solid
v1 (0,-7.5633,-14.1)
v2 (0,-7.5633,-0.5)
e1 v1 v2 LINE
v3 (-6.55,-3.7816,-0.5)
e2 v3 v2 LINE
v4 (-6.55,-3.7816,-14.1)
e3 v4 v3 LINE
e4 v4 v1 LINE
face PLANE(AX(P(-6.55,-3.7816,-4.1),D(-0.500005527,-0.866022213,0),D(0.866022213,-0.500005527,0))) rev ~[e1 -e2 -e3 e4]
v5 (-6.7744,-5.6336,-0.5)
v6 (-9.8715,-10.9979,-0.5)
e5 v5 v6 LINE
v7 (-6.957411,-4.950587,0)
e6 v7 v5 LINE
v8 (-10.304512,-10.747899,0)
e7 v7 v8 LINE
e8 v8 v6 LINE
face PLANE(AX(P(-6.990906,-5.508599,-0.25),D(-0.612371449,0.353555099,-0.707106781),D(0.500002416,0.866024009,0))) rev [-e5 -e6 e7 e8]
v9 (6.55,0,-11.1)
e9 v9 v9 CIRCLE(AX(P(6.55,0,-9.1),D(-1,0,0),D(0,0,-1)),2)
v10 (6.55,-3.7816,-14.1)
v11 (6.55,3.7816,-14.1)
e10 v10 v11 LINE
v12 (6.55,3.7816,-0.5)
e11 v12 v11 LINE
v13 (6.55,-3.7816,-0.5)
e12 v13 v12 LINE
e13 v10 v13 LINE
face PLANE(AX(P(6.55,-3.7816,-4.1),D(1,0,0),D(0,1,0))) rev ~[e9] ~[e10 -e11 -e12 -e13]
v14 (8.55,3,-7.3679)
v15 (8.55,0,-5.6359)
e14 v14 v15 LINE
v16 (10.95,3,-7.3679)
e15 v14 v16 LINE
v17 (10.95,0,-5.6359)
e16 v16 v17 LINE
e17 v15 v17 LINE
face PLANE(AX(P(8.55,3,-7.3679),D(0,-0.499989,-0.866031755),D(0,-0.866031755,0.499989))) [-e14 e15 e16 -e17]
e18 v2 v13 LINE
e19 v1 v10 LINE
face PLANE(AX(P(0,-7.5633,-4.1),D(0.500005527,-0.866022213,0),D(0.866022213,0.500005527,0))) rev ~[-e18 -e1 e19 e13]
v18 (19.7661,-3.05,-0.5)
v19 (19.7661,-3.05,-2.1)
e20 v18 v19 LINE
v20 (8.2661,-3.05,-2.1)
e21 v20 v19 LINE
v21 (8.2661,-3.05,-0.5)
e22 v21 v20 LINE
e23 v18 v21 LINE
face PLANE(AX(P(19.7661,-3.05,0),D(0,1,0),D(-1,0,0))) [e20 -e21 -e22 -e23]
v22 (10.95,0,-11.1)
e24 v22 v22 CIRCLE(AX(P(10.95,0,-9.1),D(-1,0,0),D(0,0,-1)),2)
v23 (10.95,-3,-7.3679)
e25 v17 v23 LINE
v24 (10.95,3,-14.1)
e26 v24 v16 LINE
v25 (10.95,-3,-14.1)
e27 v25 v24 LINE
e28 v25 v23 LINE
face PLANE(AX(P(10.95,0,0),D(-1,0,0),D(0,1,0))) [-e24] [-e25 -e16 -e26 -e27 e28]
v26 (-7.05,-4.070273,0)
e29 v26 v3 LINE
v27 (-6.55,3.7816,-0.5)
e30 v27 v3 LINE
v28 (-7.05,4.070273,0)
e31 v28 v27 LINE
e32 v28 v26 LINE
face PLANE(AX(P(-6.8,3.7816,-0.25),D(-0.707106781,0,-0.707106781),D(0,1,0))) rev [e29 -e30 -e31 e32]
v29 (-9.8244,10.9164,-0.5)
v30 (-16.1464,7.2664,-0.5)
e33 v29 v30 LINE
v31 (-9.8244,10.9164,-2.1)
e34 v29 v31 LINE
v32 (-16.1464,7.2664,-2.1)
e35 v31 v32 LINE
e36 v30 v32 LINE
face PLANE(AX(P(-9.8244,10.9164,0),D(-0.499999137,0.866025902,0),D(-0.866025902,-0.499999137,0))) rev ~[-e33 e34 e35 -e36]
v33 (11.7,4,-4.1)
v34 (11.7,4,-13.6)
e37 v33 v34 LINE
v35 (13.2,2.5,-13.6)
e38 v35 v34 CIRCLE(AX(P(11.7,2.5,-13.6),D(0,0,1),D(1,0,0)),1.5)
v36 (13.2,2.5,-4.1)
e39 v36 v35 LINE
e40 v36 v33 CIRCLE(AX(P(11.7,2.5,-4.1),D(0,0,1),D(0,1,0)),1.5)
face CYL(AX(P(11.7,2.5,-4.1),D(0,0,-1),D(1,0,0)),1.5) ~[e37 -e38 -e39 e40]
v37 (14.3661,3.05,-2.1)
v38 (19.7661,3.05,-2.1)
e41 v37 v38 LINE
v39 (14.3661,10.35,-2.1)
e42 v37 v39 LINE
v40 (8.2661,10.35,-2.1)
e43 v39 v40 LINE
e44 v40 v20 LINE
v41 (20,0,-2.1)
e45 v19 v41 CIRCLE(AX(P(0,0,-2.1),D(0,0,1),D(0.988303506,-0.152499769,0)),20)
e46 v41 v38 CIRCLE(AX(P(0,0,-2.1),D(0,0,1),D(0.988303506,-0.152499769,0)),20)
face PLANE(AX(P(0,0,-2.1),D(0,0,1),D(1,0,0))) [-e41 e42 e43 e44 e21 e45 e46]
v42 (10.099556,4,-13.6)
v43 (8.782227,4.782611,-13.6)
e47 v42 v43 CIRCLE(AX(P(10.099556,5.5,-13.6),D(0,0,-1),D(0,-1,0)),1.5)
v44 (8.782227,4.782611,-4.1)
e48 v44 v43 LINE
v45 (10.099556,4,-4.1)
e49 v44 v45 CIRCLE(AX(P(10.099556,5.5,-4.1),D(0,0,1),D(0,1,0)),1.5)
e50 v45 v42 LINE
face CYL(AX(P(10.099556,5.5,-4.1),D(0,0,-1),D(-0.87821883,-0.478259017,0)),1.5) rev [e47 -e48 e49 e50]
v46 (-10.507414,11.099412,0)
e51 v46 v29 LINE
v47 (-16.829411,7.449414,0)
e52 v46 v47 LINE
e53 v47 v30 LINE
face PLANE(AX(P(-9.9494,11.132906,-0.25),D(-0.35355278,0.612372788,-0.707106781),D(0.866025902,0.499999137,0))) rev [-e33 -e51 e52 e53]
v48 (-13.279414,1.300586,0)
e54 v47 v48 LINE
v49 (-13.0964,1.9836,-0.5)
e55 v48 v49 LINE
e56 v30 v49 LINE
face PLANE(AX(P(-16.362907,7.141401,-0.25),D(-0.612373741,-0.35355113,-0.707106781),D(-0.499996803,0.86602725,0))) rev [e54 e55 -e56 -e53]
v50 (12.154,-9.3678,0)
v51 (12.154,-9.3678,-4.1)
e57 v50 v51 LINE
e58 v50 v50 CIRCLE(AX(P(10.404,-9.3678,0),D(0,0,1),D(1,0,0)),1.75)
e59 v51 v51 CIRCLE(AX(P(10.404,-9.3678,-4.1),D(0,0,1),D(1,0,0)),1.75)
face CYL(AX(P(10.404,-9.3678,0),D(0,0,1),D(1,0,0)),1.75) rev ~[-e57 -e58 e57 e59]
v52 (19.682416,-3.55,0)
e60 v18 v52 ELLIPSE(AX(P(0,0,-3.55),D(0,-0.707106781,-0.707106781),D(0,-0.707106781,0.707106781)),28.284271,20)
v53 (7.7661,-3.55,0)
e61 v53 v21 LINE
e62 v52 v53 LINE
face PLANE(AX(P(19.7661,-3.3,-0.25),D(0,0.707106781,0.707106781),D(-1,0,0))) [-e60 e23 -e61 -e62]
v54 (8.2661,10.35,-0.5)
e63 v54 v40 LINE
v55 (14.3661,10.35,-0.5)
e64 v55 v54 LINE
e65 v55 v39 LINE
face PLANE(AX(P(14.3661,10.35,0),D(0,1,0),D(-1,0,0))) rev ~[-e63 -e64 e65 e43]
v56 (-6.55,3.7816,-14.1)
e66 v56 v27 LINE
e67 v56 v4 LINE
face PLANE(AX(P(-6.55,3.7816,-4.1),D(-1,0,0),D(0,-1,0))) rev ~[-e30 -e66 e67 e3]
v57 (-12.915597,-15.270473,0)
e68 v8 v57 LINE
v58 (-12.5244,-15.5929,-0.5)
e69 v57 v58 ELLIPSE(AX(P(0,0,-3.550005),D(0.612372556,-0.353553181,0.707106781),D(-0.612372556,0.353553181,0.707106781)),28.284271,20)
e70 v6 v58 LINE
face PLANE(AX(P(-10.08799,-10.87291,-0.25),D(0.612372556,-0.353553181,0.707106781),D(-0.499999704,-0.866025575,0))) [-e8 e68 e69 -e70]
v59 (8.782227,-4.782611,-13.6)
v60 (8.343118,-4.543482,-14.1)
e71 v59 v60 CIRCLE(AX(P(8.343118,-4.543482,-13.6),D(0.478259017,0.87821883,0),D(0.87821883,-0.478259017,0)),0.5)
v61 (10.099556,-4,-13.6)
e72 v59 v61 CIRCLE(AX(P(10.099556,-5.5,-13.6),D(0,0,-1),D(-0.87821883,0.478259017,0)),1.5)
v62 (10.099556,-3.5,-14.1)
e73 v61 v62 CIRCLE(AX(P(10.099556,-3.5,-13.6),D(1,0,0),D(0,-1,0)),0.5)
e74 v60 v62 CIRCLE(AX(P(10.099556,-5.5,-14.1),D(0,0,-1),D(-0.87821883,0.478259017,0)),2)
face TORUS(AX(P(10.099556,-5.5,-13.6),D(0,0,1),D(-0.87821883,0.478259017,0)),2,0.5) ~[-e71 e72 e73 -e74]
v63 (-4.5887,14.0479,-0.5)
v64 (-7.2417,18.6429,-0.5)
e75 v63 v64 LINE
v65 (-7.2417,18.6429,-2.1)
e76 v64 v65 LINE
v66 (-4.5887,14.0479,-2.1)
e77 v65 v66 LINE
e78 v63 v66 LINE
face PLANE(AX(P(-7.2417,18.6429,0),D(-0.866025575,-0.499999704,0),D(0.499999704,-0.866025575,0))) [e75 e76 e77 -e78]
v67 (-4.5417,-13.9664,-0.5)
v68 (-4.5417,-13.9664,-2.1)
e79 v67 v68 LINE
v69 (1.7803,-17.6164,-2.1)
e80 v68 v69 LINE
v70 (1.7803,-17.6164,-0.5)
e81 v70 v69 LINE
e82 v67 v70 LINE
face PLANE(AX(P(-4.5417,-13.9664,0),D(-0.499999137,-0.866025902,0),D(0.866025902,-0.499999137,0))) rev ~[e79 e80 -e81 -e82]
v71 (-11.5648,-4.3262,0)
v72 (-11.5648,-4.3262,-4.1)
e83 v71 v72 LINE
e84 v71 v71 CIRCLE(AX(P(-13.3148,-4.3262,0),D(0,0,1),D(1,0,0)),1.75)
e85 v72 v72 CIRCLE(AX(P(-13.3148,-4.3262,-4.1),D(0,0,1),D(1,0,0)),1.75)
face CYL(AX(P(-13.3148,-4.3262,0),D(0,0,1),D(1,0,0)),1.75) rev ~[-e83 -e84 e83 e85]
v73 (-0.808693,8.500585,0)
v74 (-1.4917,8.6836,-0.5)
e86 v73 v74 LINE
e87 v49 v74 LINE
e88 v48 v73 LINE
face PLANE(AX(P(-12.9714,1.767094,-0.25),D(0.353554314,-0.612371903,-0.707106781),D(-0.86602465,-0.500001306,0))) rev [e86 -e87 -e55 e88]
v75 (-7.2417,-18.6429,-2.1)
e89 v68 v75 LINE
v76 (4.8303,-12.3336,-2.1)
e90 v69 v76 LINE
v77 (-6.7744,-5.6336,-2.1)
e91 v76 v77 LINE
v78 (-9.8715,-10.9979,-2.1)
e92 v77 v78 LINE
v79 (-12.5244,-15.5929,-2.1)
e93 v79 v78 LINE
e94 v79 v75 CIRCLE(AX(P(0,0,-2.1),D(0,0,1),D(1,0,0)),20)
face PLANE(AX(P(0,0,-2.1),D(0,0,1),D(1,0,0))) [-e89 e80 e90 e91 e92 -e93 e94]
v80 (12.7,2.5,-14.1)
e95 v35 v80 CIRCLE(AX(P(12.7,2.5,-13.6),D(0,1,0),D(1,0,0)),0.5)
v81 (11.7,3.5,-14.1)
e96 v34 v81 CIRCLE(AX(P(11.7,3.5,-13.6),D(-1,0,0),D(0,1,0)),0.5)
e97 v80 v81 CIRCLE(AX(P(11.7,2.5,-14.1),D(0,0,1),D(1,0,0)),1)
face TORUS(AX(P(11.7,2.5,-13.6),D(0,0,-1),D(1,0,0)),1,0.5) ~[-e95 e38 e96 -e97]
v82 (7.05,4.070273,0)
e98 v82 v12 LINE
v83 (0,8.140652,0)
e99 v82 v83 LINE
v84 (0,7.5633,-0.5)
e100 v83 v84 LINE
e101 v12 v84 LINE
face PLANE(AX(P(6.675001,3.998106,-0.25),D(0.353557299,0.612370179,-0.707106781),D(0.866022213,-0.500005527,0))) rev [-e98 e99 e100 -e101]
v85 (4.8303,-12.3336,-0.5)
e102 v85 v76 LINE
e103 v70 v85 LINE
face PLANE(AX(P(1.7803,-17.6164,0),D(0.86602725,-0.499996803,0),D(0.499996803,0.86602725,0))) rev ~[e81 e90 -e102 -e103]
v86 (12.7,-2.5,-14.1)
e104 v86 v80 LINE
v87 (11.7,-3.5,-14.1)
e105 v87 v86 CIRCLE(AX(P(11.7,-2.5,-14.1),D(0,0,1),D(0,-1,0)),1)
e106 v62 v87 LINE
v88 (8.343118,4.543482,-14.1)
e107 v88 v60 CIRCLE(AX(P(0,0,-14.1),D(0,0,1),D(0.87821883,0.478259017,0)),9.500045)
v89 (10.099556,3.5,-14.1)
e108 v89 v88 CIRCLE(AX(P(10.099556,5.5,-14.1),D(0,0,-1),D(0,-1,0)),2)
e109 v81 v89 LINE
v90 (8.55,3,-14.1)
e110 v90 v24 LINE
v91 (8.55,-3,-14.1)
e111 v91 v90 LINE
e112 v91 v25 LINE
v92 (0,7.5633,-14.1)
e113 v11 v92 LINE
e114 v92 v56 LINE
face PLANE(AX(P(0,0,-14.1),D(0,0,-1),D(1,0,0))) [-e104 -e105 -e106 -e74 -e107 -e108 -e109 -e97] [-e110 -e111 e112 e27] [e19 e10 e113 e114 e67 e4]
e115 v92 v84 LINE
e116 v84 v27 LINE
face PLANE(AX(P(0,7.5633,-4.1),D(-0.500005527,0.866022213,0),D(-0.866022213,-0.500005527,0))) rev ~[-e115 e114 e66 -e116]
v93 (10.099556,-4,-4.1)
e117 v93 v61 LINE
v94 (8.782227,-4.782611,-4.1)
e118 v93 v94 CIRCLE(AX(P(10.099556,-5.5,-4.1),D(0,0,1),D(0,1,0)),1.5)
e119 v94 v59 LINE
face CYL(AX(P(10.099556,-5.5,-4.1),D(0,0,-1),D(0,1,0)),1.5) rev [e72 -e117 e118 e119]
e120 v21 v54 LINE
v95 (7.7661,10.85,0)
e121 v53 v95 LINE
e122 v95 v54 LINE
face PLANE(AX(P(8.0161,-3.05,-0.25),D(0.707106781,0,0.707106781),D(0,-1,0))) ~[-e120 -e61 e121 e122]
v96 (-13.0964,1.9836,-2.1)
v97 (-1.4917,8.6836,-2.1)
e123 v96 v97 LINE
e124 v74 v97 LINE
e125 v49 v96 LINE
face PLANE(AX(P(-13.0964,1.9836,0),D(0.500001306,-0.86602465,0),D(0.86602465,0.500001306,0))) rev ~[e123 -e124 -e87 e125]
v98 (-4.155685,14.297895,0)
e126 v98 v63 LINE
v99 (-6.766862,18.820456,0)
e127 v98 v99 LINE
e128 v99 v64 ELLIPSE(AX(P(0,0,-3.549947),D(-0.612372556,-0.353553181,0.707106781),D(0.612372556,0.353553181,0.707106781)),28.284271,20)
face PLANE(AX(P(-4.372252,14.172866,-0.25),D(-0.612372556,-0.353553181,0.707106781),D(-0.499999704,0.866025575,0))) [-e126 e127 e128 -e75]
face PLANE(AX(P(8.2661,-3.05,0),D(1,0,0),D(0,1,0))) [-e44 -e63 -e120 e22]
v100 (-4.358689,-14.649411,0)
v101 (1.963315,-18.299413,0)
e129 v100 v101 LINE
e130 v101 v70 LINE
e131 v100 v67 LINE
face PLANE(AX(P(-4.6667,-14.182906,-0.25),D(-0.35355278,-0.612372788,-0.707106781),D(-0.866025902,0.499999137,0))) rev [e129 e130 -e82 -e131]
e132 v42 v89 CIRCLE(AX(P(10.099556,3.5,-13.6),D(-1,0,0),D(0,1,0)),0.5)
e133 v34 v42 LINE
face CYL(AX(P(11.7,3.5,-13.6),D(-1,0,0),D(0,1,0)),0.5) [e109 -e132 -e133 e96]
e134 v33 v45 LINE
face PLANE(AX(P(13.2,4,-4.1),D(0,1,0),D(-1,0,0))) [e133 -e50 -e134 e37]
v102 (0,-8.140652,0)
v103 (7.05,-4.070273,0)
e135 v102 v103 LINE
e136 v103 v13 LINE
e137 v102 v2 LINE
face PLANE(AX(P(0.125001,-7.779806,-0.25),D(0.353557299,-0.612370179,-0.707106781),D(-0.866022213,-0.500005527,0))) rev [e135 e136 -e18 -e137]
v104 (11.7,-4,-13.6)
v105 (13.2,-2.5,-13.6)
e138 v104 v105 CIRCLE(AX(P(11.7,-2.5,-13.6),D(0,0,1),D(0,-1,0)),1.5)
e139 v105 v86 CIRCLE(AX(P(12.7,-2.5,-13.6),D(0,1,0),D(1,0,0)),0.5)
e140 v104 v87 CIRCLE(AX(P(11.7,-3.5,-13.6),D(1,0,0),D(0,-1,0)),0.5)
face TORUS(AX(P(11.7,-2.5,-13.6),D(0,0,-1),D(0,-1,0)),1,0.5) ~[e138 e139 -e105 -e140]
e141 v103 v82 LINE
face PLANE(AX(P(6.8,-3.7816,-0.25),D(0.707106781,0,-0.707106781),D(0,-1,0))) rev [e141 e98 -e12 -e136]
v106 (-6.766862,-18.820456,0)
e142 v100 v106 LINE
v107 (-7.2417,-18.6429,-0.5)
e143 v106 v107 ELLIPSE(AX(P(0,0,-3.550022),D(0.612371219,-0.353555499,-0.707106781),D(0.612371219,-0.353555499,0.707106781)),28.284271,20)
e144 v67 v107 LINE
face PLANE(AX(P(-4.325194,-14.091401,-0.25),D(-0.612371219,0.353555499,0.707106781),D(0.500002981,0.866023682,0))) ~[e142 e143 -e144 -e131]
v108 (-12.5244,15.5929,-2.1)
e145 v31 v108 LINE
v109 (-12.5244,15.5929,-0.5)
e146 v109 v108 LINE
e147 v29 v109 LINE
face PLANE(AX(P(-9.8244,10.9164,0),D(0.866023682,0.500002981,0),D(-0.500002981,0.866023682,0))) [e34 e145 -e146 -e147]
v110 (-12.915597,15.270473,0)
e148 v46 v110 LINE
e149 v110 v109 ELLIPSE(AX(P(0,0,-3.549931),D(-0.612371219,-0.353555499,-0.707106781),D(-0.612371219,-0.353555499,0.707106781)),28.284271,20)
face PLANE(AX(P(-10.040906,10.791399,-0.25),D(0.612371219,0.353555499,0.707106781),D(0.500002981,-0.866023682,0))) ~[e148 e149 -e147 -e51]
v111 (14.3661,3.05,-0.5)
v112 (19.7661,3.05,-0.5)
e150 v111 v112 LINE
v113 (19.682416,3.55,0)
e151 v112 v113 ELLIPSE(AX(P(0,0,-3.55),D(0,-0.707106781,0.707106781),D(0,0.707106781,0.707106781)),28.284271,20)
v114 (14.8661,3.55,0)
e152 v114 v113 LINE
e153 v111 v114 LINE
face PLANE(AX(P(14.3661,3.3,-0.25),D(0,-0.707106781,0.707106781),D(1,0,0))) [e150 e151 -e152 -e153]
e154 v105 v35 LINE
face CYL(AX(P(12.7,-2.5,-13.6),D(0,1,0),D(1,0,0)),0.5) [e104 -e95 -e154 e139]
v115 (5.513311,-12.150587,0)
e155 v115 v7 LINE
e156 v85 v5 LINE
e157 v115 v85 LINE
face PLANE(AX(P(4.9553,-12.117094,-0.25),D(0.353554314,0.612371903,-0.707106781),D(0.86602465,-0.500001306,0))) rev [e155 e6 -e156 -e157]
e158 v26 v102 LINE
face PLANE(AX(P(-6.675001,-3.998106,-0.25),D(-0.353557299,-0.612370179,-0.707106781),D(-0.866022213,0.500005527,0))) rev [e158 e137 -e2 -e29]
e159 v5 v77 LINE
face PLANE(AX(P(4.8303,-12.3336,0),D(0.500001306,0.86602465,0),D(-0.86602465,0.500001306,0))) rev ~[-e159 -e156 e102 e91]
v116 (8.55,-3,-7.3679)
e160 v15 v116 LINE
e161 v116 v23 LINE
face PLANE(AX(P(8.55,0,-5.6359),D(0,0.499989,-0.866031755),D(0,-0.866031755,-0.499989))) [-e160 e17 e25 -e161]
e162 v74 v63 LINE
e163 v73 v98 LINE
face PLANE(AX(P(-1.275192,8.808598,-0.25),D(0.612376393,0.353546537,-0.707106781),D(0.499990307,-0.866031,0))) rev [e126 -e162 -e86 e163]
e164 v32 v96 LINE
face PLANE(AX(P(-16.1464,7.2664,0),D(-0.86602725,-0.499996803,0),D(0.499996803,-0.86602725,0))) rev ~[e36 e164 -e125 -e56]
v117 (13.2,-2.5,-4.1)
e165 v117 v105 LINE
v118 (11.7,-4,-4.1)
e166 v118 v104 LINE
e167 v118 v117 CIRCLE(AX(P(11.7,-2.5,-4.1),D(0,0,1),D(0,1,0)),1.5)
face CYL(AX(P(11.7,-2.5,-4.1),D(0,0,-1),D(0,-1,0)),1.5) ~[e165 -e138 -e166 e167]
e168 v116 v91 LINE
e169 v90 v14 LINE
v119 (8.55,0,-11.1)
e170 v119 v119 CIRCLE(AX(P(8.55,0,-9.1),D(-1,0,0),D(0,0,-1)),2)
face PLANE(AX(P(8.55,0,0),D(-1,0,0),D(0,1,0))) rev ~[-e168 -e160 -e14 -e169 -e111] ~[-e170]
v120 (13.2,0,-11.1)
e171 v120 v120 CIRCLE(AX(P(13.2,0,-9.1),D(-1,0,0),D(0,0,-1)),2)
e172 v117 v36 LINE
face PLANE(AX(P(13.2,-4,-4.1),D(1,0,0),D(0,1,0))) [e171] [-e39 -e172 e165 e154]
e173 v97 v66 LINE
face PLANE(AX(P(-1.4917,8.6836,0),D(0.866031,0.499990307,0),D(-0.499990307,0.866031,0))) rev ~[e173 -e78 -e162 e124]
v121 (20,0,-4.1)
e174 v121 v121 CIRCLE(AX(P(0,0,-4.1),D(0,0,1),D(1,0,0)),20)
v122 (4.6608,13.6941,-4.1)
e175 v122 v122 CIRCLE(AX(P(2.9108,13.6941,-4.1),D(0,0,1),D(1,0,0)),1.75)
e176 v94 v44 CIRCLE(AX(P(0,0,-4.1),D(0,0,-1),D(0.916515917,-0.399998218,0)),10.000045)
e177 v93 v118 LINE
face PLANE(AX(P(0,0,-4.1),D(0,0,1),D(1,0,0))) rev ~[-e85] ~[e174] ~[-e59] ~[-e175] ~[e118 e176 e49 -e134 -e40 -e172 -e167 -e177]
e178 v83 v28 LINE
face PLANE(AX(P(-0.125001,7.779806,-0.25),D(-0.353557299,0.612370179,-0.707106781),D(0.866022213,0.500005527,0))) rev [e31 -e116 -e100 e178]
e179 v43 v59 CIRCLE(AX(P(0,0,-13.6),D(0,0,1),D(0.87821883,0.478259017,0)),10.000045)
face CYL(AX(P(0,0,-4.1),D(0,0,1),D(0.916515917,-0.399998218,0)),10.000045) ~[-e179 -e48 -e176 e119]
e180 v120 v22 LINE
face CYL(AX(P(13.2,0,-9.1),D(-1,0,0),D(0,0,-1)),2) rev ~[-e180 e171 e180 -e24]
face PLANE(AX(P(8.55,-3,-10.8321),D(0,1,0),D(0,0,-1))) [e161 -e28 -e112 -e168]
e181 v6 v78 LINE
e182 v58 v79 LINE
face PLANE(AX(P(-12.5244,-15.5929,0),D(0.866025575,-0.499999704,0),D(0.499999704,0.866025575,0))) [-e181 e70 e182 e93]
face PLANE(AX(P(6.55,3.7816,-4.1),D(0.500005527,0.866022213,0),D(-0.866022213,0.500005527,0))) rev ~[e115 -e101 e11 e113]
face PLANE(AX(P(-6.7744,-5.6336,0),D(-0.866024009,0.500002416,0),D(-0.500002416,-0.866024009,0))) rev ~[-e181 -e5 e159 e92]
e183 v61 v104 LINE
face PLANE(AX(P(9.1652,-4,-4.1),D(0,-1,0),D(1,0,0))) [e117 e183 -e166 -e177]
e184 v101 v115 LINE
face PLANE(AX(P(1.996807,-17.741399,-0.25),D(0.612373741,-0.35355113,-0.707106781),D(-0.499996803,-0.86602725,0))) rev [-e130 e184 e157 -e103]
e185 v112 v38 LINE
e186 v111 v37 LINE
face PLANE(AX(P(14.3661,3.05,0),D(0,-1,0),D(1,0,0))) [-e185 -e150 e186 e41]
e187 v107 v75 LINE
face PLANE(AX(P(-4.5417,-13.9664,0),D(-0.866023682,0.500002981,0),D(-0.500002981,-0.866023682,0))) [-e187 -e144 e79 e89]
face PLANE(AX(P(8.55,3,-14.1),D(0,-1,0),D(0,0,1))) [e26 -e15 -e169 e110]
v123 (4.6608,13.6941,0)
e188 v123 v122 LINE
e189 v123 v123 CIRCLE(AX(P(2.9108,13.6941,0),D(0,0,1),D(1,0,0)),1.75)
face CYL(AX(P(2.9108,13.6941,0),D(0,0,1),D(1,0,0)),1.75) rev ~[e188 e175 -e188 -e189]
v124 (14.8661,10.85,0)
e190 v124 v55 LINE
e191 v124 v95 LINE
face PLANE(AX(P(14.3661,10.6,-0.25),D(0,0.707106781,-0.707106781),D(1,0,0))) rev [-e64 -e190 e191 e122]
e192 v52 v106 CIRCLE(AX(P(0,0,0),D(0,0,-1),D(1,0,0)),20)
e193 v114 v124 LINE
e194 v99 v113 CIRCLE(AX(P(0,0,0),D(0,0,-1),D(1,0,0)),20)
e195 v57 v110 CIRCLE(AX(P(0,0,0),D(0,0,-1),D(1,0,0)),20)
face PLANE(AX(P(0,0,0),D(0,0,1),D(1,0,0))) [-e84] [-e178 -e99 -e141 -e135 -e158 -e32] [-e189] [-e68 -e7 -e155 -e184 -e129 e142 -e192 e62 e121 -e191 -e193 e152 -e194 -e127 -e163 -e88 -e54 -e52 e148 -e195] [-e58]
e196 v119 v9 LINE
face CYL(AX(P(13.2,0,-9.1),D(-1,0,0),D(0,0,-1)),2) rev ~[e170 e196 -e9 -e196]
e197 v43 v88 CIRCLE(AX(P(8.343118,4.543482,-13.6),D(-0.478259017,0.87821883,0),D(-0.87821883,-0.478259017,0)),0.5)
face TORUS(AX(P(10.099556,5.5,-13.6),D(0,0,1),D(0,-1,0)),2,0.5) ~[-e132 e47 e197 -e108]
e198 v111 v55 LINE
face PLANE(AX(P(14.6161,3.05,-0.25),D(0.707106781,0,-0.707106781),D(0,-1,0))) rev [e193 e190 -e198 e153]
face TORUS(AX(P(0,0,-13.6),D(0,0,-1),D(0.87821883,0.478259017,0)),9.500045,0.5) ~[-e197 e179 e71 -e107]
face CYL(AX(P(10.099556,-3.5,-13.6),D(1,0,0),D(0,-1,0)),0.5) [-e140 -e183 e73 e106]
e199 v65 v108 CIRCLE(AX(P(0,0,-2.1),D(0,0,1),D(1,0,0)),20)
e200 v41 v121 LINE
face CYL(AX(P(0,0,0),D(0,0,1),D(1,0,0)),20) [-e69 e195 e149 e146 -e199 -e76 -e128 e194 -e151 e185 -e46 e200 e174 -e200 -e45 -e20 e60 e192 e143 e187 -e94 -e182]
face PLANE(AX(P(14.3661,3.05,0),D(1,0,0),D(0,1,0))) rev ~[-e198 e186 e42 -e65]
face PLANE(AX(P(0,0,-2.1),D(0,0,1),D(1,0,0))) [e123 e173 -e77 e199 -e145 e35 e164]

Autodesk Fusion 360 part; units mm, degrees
sketch "Esquisse1" plane through (0, 0, 0) normal (0, 0, 1) x (1, 0, 0)
  circle A0 centre (0, 0) radius 20
  line L0 (19.7661, -3.05) -> (8.2661, -3.05)
  line L1 (8.2661, -3.05) -> (8.2661, 3.1)
  line L2 (14.3661, 3.05) -> (19.7661, 3.05)
  line L3 (8.2661, -3.05) -> (14.4602, -3.05)
  line L4 (14.3661, 10.35) -> (8.2661, 10.35)
  line L5 (8.2661, 10.35) -> (8.2661, -3.05)
  line L6 (0, 0) -> (29, 0) construction
  line L7 (14.3661, 3.05) -> (14.3661, 10.35)
  line L8 (-9.8244, 10.9164) -> (-16.1464, 7.2664)
  line L9 (-16.1464, 7.2664) -> (-13.0964, 1.9836)
  line L10 (-13.0964, 1.9836) -> (-1.4917, 8.6836)
  line L11 (-1.4917, 8.6836) -> (-4.5887, 14.0479)
  line L12 (-7.2417, 18.6429) -> (-1.4917, 8.6836)
  line L13 (-9.8244, 10.9164) -> (-12.5244, 15.5929)
  line L14 (-4.5417, -13.9664) -> (1.7803, -17.6164)
  line L15 (1.7803, -17.6164) -> (4.8303, -12.3336)
  line L16 (4.8303, -12.3336) -> (-6.7744, -5.6336)
  line L17 (-6.7744, -5.6336) -> (-9.8715, -10.9979)
  line L18 (-12.5244, -15.5929) -> (-6.7744, -5.6336)
  line L19 (-4.5417, -13.9664) -> (-7.2417, -18.6429)
  circle A1 centre (2.9108, 13.6941) radius 1.75
  line L20 (0, 0) -> (2.9108, 13.6941) construction
  circle A2 centre (-13.3148, -4.3262) radius 1.75
  circle A3 centre (10.404, -9.3678) radius 1.75
  line L21 (6.55, 3.7816) -> (0, 7.5633)
  line L22 (0, 7.5633) -> (-6.55, 3.7816)
  line L23 (-6.55, 3.7816) -> (-6.55, -3.7816)
  line L24 (-6.55, -3.7816) -> (0, -7.5633)
  line L25 (0, -7.5633) -> (6.55, -3.7816)
  line L26 (6.55, -3.7816) -> (6.55, 3.7816)
  dimension "d1" = 40
  dimension "d2" = 6.1
  dimension "d3" = 11.5
  dimension "d6" = 6.1
  dimension "d7" = 3.05
  dimension "d8" = 13.4
  dimension "d10" = 360
  dimension "d16" = 3.5
  dimension "d17" = 78
  dimension "d19" = 360
  dimension "d21" = 14
  dimension "d25" = 6.55
extrude "Extrusion1" add sketch "Esquisse1" against normal blind 4.1 contours A0 L0 L1 L2 L3 L4 L5 L7 | A0 L0 L1 L2 L3 L4 L5 L7 L8 L9 L10 L11 L12 L13 L14 L15 L16 L17 L18 L19 | A0 L8 L9 L10 L11 L12 L13 | A0 L14 L15 L16 L17 L18 L19 | A1 | A2 | A3 | L21 L22 L23 L24 L25 L26
extrude "Extrusion2" cut sketch "Esquisse1" against normal blind 2.1 contours A0 L0 L1 L2 L3 L4 L5 L7 | A0 L8 L9 L10 L11 L12 L13 | A0 L14 L15 L16 L17 L18 L19
chamfer "Chanfrein1" distance 0.5 angle 45 15 edges at (-4.3667, 13.6633, 0) (-11.1744, 13.2546, 0) (-12.9854, 9.0914, 0) (-14.6214, 4.625, 0) (-7.294, 5.3336, 0) (-9.6494, -10.6133, 0) (-0.972, -8.9836, 0) (-5.8917, -16.3046, 0) (-1.3807, -15.7914, 0) (3.3053, -14.975, 0) (8.2661, 3.65, 0) (14.0161, -3.05, 0) (17.0661, 3.05, 0) (14.3661, 6.7, 0) (11.3161, 10.35, 0)
extrude "Extrusion5" cut sketch "Esquisse1" against normal blind 4.1 contours A1 | A2 | A3
extrude "Extrusion6" cut sketch "Esquisse1" against normal blind 4.1 contours L21 L22 L23 L24 L25 L26
chamfer "Chanfrein4" distance 0.5 angle 45 6 edges at (-6.55, 0, 0) (-3.275, 5.6725, 0) (3.275, 5.6725, 0) (6.55, 0, 0) (3.275, -5.6725, 0) (-3.275, -5.6725, 0)
sketch "Esquisse2" plane through (0, 0, -4.1) normal (0, 0, -1) x (1, 0, 0)
  circle A0 centre (0, 0) radius 20
  circle A1 centre (2.9108, -13.6941) radius 1.75
  circle A2 centre (10.404, 9.3678) radius 1.75
  circle A3 centre (-13.3148, 4.3262) radius 1.75
  line L0 (9.1652, 4) -> (13.2, 4)
  line L1 (13.2, 4) -> (13.2, -4)
  line L2 (13.2, -4) -> (9.1652, -4)
  arc A4 (9.1652, 4) -> (9.1652, -4) centre (0, 0) ccw
  line L3 (6.55, -3.7816) -> (0, -7.5633)
  line L4 (0, -7.5633) -> (-6.55, -3.7816)
  line L5 (-6.55, -3.7816) -> (-6.55, 3.7816)
  line L6 (-6.55, 3.7816) -> (0, 7.5633)
  line L7 (0, 7.5633) -> (6.55, 3.7816)
  line L8 (6.55, 3.7816) -> (6.55, -3.7816)
  dimension "d36" = 20
  dimension "d37" = 8
  dimension "d39" = 4
extrude "Extrusion7" add sketch "Esquisse2" along normal blind 10 contours L0 L1 L2 A4
ref_plane "Plan de construction2" through (8.55, 0, -7.3) normal (-1, 0, 0) x (0, 1, 0)
sketch "Esquisse3" plane through (8.55, 0, 0) normal (-1, 0, 0) x (0, 1, 0)
  line L0 (4, -4.1) -> (-4, -4.1)
  line L1 (-4, -4.1) -> (-4, -14.1)
  line L2 (-4, -14.1) -> (4, -14.1)
  line L3 (4, -14.1) -> (4, -4.1)
  line L4 (-3, -14.1) -> (3, -14.1)
  line L5 (3, -14.1) -> (3, -9.1)
  line L6 (3, -9.1) -> (-3, -9.1) construction
  line L7 (-3, -9.1) -> (-3, -14.1)
  line L8 (3, -7.3679) -> (0, -5.6359)
  line L9 (0, -5.6359) -> (-3, -7.3679)
  line L10 (-3, -7.3679) -> (-3, -10.8321)
  line L11 (3, -10.8321) -> (3, -7.3679)
  line L12 (10.85, 0) -> (-3.55, 0)
  line L13 (3, 9.1) -> (-3, 9.1) construction
  line L14 (0, 5.6359) -> (-3, 7.3679)
  line L15 (3, 10.8321) -> (3, 7.3679)
  line L16 (-4, 14.1) -> (4, 14.1)
  line L17 (4, 4.1) -> (-4, 4.1)
  line L18 (-3, 14.1) -> (3, 14.1)
  line L19 (-3, 9.1) -> (-3, 14.1)
  line L20 (3, 14.1) -> (3, 9.1)
  line L21 (3, 7.3679) -> (0, 5.6359)
  line L22 (-4, 4.1) -> (-4, 14.1)
  line L23 (-3, 7.3679) -> (-3, 10.8321)
  line L24 (4, 14.1) -> (4, 4.1)
  point P0 (0, -9.1)
  point P1 (0, 9.1)
  dimension "d42" = 5
  dimension "d43" = 6
  dimension "d44" = 1
extrude "Extrusion8" cut sketch "Esquisse3" against normal blind 2.4 contours L14 L15 L16 L18 L19 L20 L21 L23
hole "Perçage1" at (13.2, 0, -9.1) direction (-1, 0, 0) diameter 4 depth 7 tip angle 180
fillet "Congé1" radius 1.5 4 edges at (13.2, -4, -9.1) (13.2, 4, -9.1) (9.1652, 4, -9.1) (9.1652, -4, -9.1)
fillet "Congé2" radius 0.5 8 edges at (10.8998, -4, -14.1) (9.3334, -4.2104, -14.1) (-10, 0, -14.1) (9.3334, 4.2104, -14.1) (10.8998, 4, -14.1) (12.7607, 3.5607, -14.1) (13.2, 0, -14.1) (12.7607, -3.5607, -14.1)
equation "d6 = d2"
equation "d7 = d2 / 2"
equation "d39 = d37 / 2"
equation "d44 = ( 8 mm - d43 ) / 2"
